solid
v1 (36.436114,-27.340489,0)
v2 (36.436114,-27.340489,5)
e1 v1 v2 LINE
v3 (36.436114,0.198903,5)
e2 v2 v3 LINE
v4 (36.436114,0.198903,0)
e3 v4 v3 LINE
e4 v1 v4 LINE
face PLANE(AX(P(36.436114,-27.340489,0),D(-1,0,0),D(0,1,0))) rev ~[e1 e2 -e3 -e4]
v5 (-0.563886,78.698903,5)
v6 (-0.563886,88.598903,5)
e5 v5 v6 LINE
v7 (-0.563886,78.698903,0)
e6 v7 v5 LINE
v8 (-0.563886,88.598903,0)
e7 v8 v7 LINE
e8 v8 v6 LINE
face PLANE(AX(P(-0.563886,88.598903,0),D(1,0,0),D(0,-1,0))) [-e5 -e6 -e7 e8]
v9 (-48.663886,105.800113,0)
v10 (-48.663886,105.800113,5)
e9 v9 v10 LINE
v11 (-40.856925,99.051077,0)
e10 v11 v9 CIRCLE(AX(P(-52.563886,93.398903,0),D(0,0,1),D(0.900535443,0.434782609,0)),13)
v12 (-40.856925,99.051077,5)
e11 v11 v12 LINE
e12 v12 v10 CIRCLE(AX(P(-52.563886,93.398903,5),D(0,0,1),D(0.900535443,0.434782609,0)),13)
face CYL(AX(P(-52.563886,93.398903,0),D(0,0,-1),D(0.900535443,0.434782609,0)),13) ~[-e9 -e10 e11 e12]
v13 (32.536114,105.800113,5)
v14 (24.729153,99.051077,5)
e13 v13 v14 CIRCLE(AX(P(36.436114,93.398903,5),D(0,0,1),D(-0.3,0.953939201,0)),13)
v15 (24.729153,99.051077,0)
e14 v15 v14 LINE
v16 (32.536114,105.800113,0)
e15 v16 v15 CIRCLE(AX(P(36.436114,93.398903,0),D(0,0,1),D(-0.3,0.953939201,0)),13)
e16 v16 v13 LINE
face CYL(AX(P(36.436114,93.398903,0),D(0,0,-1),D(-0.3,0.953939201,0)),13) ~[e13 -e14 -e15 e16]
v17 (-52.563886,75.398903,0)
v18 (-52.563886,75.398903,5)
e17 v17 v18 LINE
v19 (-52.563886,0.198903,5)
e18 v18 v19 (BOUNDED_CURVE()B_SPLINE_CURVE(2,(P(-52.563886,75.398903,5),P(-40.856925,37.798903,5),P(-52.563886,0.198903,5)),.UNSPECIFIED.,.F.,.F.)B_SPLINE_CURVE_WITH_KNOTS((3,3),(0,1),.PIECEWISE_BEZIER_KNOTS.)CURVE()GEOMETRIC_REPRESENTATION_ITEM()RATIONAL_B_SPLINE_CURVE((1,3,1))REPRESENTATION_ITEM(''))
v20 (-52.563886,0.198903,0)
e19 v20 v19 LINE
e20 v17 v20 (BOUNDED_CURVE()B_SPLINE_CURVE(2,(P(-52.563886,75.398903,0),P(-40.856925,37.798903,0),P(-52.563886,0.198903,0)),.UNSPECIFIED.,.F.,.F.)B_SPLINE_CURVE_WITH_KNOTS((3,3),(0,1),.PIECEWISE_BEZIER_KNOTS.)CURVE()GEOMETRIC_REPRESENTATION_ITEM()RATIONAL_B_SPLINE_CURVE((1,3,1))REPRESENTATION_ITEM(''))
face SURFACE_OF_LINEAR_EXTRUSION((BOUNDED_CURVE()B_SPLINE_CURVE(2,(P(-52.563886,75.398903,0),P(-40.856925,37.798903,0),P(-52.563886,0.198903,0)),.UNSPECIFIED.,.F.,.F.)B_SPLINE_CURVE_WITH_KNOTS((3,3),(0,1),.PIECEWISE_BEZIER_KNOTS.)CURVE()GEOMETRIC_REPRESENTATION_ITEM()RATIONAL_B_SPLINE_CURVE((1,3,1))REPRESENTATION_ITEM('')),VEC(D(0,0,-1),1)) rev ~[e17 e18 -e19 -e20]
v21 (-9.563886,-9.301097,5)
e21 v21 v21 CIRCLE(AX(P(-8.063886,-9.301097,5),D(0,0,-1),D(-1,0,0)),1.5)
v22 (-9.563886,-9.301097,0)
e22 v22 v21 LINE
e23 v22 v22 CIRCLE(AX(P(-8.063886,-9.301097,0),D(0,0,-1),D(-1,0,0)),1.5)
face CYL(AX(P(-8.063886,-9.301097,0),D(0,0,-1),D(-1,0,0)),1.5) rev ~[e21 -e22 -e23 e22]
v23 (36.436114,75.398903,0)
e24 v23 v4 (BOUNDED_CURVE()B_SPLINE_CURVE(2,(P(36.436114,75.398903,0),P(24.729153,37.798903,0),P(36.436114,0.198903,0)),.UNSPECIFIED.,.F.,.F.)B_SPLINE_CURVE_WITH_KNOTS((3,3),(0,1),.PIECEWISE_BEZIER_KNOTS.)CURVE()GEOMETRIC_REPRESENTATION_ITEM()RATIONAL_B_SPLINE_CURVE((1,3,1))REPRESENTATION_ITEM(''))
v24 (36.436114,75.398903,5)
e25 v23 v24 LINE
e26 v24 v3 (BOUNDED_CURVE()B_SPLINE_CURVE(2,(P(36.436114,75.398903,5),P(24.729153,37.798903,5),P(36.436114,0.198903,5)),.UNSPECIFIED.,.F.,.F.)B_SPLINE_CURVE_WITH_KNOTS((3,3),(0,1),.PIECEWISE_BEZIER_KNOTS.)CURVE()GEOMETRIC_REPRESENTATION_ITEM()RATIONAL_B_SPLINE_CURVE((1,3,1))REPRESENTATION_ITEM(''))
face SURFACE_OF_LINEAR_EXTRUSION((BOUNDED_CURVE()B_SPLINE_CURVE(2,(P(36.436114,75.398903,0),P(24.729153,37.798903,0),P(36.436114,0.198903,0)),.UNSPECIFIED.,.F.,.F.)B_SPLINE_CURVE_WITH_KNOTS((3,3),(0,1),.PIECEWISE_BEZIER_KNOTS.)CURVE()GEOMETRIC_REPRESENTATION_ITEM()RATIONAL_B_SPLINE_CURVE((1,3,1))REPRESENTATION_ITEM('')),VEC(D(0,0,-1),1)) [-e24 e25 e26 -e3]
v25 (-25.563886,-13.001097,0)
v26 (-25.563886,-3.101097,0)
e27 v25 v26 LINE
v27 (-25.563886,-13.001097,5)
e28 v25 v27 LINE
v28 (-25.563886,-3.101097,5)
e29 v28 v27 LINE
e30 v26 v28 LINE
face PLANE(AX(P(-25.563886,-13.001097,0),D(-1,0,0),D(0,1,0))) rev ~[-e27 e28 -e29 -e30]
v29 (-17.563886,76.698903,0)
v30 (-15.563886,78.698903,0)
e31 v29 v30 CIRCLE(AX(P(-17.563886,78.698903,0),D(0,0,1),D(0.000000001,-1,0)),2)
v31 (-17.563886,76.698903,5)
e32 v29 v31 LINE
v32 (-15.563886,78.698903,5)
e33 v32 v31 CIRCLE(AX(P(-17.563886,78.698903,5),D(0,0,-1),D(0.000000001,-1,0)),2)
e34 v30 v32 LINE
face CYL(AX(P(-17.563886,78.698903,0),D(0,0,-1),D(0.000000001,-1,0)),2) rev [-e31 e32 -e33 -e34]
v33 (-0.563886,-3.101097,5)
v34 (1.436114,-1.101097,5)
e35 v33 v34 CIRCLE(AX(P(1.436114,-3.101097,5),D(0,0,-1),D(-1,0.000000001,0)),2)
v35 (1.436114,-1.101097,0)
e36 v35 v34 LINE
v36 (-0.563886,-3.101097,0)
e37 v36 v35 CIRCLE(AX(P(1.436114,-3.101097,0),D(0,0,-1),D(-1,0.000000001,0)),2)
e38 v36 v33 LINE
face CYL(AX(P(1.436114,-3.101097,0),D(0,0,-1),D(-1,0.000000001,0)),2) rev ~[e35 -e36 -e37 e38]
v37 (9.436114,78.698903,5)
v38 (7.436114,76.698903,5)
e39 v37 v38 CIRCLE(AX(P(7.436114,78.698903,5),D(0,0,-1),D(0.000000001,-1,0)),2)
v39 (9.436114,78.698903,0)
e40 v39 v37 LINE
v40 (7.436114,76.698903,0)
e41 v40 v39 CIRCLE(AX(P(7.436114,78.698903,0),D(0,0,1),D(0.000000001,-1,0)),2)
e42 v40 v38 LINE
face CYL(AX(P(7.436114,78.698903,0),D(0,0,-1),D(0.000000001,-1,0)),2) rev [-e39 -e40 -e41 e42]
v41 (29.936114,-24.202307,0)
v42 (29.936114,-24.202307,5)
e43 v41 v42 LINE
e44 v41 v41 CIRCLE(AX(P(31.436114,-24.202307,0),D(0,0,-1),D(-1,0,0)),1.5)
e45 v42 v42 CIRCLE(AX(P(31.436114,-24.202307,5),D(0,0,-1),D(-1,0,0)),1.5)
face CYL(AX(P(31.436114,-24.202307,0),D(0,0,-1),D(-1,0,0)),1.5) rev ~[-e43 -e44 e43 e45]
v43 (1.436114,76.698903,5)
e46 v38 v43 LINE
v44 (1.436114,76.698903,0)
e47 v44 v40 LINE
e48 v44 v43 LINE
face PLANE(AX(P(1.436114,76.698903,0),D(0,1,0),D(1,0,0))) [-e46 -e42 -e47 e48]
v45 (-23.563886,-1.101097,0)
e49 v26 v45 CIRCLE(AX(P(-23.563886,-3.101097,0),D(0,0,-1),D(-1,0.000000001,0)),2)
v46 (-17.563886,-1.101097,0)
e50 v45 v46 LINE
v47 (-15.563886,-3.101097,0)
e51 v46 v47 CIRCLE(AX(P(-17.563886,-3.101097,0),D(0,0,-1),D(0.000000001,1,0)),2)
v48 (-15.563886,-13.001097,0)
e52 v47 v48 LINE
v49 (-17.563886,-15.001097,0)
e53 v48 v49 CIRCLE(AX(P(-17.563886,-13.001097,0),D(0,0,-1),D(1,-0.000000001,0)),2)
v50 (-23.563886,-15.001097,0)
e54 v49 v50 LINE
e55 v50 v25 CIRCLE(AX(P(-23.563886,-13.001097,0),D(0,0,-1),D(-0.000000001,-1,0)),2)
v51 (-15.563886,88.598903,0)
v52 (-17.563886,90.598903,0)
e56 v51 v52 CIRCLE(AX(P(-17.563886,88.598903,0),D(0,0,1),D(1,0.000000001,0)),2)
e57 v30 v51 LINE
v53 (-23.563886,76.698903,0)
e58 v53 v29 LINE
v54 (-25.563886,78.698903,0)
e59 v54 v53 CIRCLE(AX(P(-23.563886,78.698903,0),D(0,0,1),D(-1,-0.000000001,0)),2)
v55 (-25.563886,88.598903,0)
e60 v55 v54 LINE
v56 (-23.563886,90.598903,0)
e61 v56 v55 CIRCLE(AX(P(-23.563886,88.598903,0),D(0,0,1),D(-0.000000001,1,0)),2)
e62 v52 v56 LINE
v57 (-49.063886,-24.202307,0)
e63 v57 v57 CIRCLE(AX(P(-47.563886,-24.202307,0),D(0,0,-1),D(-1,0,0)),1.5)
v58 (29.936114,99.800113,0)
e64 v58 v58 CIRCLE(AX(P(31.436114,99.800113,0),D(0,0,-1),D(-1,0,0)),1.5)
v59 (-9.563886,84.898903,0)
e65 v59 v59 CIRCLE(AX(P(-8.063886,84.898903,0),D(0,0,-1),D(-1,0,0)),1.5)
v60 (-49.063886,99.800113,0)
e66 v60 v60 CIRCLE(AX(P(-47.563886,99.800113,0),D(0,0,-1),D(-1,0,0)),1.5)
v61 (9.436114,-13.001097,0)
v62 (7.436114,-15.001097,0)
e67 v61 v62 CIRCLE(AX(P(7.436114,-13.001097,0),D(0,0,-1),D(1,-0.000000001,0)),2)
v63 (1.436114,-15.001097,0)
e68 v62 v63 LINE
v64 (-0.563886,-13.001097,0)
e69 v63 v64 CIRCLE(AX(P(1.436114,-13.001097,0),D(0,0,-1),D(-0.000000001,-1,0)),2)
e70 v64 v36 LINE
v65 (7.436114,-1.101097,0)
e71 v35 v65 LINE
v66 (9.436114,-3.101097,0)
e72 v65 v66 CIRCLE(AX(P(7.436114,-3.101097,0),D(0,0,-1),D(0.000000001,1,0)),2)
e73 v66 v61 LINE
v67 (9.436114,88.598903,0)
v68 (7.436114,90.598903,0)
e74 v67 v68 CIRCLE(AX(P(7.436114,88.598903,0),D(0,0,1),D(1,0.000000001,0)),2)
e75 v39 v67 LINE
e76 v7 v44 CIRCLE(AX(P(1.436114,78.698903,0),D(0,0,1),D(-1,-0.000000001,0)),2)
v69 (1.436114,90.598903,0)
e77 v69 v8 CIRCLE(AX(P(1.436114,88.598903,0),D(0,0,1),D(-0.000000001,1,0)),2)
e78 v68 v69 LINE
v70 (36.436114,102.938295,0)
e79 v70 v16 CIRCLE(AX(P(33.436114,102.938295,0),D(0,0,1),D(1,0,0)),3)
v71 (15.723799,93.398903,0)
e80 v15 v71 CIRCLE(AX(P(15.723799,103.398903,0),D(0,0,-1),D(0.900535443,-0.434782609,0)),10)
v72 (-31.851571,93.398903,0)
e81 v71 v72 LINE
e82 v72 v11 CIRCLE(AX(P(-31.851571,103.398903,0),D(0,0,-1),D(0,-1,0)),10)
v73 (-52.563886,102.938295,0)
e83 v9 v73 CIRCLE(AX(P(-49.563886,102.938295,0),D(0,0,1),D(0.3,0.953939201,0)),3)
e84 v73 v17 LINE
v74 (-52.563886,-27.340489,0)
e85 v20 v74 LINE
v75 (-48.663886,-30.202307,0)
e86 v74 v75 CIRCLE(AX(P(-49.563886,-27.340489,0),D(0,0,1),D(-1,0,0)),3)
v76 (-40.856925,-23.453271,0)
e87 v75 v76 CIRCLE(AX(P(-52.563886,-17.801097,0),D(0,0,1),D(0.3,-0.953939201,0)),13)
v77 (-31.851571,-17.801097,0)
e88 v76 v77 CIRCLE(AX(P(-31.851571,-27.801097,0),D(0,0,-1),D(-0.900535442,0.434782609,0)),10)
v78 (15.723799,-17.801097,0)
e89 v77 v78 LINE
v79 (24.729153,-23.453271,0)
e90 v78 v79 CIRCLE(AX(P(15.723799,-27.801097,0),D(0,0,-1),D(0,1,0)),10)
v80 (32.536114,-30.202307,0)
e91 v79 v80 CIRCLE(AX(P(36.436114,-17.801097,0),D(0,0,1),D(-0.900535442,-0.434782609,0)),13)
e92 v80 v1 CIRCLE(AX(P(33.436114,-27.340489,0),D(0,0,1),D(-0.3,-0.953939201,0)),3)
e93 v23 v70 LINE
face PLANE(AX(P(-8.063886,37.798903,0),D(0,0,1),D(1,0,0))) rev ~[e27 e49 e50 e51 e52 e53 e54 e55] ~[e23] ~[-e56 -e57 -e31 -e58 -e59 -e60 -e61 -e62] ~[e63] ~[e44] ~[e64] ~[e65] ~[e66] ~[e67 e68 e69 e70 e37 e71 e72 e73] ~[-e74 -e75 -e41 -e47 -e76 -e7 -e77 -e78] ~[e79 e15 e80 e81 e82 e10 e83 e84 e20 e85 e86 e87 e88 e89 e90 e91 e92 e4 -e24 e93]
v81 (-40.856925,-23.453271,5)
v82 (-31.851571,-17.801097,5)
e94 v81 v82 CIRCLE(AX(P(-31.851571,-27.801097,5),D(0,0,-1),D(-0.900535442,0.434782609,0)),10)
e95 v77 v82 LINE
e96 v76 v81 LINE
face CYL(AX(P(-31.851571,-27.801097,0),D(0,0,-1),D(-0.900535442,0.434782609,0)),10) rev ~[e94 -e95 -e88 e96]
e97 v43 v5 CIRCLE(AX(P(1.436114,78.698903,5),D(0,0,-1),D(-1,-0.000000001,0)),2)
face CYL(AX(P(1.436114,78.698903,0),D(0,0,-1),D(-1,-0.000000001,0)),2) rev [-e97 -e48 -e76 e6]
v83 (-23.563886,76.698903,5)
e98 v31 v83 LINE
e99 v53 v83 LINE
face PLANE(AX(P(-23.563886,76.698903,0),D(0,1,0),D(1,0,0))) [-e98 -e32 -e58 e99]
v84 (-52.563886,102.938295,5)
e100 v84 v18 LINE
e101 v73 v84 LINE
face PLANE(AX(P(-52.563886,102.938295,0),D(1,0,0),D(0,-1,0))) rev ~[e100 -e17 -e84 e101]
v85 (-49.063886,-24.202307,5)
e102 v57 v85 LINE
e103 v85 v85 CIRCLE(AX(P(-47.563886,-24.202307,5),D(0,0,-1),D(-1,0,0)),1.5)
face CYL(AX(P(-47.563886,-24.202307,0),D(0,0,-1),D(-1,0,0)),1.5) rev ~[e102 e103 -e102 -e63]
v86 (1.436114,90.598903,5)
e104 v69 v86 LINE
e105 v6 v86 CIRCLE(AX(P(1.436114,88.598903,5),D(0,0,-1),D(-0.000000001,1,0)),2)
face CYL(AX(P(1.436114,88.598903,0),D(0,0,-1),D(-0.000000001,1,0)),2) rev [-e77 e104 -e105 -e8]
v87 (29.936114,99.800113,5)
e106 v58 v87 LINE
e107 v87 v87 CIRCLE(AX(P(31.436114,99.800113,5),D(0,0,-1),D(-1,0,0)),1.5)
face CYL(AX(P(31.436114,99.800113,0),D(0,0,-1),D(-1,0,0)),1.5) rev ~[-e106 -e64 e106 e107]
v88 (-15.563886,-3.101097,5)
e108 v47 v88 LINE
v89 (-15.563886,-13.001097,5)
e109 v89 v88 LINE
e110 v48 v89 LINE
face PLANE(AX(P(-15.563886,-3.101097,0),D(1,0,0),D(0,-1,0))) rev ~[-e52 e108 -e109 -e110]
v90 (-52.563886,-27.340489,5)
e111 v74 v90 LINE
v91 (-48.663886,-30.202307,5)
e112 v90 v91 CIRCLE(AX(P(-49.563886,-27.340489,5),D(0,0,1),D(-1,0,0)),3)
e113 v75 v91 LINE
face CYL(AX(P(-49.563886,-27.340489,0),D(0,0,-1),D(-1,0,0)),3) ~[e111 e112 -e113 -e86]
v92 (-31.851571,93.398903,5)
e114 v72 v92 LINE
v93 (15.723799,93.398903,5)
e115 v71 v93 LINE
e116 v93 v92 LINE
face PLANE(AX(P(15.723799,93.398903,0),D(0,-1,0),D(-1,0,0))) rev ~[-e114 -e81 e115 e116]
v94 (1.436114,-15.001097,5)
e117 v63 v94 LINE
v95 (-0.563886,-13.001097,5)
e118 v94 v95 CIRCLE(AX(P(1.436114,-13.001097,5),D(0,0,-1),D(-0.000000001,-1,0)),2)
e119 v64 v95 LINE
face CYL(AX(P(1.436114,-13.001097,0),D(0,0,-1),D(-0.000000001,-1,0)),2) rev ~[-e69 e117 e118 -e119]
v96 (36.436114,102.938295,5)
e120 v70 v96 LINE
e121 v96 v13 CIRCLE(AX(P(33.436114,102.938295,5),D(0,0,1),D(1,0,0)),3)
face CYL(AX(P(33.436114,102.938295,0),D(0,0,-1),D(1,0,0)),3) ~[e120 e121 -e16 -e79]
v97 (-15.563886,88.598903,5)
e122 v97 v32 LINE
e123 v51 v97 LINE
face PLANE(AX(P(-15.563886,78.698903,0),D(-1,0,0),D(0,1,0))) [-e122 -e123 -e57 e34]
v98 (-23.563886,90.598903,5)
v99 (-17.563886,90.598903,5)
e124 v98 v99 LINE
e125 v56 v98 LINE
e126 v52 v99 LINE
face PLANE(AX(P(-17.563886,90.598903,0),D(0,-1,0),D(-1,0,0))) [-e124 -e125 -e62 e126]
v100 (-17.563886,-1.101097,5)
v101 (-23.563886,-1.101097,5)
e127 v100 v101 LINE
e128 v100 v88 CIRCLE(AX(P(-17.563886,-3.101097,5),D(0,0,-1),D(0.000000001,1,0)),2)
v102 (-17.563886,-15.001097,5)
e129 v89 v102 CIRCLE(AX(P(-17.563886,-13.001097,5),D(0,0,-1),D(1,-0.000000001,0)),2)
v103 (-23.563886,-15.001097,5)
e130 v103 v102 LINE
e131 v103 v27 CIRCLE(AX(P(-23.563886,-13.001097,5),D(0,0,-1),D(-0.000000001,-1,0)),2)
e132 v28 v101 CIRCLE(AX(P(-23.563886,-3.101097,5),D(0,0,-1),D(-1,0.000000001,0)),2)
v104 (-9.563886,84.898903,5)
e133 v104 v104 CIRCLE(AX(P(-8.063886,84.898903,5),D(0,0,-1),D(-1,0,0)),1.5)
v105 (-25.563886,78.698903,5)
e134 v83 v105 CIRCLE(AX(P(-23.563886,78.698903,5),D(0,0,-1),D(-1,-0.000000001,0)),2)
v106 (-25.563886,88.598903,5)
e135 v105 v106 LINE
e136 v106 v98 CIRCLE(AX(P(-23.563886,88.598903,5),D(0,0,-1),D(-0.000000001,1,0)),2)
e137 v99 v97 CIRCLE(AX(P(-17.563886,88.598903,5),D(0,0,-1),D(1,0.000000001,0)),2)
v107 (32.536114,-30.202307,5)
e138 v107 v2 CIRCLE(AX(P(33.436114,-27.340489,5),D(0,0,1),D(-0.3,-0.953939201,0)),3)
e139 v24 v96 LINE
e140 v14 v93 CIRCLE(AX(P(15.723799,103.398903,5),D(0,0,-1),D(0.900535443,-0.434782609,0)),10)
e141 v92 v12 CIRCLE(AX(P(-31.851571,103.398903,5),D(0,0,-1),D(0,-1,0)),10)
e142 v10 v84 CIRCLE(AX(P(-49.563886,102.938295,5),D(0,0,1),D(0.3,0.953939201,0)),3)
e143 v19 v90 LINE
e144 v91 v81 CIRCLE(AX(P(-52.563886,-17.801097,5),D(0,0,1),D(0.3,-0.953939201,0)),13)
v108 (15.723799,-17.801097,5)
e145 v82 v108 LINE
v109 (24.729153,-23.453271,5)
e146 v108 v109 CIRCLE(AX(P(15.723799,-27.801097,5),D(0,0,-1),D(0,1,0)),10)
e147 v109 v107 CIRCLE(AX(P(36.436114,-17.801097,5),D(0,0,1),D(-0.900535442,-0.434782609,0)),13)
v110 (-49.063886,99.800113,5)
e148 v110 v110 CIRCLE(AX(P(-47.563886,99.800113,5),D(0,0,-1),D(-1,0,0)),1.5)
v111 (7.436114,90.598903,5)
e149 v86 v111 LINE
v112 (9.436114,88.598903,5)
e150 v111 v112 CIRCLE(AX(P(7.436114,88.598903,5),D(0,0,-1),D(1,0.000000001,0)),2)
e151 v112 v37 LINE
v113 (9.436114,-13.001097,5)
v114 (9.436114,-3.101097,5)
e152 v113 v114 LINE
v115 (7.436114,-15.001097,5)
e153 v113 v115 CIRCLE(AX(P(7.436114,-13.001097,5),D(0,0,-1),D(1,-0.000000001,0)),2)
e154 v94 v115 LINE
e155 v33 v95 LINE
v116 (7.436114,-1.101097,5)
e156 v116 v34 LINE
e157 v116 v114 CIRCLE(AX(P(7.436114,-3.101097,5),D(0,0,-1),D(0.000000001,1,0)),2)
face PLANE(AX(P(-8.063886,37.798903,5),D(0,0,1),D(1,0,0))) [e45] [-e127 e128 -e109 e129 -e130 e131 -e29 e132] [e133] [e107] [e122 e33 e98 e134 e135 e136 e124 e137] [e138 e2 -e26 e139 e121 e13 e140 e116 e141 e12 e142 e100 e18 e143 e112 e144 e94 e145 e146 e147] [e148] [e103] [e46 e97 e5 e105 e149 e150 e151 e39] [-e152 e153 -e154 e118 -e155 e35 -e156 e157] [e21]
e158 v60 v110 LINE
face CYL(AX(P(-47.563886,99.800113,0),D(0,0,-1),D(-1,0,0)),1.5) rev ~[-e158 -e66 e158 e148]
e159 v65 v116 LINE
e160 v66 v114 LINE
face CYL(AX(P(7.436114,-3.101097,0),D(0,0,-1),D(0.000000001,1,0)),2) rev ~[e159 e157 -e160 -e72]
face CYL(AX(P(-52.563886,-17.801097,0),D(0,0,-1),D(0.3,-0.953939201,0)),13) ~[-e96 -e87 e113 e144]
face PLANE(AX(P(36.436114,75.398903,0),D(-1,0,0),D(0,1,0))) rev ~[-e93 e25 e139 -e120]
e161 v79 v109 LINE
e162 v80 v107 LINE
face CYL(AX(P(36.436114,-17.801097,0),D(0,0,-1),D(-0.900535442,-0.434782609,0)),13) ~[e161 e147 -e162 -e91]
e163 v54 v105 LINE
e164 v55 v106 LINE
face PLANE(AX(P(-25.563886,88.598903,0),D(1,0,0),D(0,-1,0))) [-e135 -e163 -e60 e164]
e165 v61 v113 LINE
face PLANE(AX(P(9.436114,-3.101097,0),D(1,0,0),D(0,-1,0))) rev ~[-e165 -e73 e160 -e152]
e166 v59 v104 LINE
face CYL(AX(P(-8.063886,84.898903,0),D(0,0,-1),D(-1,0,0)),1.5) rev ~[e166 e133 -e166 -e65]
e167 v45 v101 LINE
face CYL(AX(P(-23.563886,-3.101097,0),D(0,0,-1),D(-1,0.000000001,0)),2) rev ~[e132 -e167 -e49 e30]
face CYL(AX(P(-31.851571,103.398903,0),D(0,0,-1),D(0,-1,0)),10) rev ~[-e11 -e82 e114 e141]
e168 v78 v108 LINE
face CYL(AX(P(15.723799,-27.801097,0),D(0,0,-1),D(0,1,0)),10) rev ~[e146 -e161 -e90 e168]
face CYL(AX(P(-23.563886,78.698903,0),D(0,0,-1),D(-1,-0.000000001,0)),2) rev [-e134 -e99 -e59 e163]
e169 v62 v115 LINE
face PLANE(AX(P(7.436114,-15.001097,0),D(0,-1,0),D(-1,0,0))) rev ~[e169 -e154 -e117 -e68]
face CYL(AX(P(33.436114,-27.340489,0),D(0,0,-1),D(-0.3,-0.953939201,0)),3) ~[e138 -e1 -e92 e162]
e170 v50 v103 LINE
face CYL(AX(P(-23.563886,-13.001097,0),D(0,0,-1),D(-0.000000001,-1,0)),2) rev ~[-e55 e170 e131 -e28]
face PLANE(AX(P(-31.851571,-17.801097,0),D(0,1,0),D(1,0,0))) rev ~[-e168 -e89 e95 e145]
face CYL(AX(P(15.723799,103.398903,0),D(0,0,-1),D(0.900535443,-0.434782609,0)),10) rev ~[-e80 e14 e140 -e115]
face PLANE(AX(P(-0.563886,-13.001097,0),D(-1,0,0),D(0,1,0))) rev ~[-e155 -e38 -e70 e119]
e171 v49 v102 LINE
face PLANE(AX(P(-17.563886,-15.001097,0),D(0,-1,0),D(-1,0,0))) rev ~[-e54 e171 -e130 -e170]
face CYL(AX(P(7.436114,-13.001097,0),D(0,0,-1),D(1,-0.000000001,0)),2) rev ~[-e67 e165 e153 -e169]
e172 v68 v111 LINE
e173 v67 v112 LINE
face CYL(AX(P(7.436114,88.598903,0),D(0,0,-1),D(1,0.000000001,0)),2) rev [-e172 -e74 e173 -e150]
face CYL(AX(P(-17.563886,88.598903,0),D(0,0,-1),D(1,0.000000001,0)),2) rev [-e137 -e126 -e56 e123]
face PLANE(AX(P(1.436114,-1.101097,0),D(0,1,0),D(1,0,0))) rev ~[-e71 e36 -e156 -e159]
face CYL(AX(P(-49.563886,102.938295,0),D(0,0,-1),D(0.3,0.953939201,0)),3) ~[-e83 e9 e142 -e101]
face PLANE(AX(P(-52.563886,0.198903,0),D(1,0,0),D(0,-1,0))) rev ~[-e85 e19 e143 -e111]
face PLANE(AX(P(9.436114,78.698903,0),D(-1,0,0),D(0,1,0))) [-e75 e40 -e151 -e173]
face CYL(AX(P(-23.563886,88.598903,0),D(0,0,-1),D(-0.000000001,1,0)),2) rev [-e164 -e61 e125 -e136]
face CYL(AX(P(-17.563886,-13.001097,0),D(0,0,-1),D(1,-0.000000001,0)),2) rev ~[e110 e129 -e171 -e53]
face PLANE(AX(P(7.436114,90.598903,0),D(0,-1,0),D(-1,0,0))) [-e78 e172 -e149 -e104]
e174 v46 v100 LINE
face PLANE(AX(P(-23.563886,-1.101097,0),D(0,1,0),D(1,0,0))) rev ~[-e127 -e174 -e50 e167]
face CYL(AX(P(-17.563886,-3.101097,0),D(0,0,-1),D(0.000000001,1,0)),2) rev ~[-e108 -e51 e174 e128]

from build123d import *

# Parameters (mm, degrees)
RESSALTO_EXTRUS_O3_DEPTH = 5
ESBO_O4_R                = 1.5
CORTE_EXTRUS_O3_DEPTH    = 10


with BuildPart() as part:
    # Esboço1 → Ressalto-extrusão3 (new body)
    with BuildSketch(Plane.XY):
        with BuildLine():
            Line((-31.851570772, -17.801096987), (-27.063885949, -17.801096987))
            Line((-27.063885949, -17.801096987), (10.936114051, -17.801096987))
            Line((10.936114051, -17.801096987), (15.723798874, -17.801096987))
            ThreePointArc((15.723798874, -17.801096987), (21.039894205, -19.331201448), (24.729153299, -23.4532709))
            ThreePointArc((24.729153299, -23.4532709), (27.934250919, -27.635644423), (32.536114051, -30.202306605))
            ThreePointArc((32.536114051, -30.202306605), (35.210937986, -29.759166326), (36.436114051, -27.340489001))
            Line((36.436114051, -27.340489001), (36.436114051, -17.801096987))
            Line((36.436114051, -17.801096987), (36.436114051, 0.198903013))
            add(Edge.make_bspline(
                [(36.436114051, 75.398903013), (24.729153299, 37.798903013), (36.436114051, 0.198903013)],
                knots=[0, 0, 0, 1, 1, 1], degree=2, weights=[1, 3, 1]))
            Line((36.436114051, 75.398903013), (36.436114051, 93.398903013))
            Line((36.436114051, 93.398903013), (36.436114051, 102.938295027))
            ThreePointArc((36.436114051, 102.938295027), (35.210937986, 105.356972352), (32.536114051, 105.800112631))
            ThreePointArc((32.536114051, 105.800112631), (27.934250919, 103.23345045), (24.729153299, 99.051076926))
            ThreePointArc((24.729153299, 99.051076926), (21.039894205, 94.929007474), (15.723798874, 93.398903013))
            Line((15.723798874, 93.398903013), (10.936114051, 93.398903013))
            Line((10.936114051, 93.398903013), (-27.063885949, 93.398903013))
            Line((-27.063885949, 93.398903013), (-31.851570772, 93.398903013))
            ThreePointArc((-31.851570772, 93.398903013), (-37.167666102, 94.929007474), (-40.856925197, 99.051076926))
            ThreePointArc((-40.856925197, 99.051076926), (-44.062022817, 103.23345045), (-48.663885949, 105.800112631))
            ThreePointArc((-48.663885949, 105.800112631), (-51.338709884, 105.356972352), (-52.563885949, 102.938295027))
            Line((-52.563885949, 102.938295027), (-52.563885949, 93.398903013))
            Line((-52.563885949, 93.398903013), (-52.563885949, 75.398903013))
            add(Edge.make_bspline(
                [(-52.563885949, 75.398903013), (-40.856925197, 37.798903013), (-52.563885949, 0.198903013)],
                knots=[0, 0, 0, 1, 1, 1], degree=2, weights=[1, 3, 1]))
            Line((-52.563885949, 0.198903013), (-52.563885949, -17.801096987))
            Line((-52.563885949, -17.801096987), (-52.563885949, -27.340489001))
            ThreePointArc((-52.563885949, -27.340489001), (-51.338709884, -29.759166326), (-48.663885949, -30.202306605))
            ThreePointArc((-48.663885949, -30.202306605), (-44.062022817, -27.635644423), (-40.856925197, -23.4532709))
            ThreePointArc((-40.856925197, -23.4532709), (-37.167666102, -19.331201448), (-31.851570772, -17.801096987))
        make_face()
    extrude(amount=RESSALTO_EXTRUS_O3_DEPTH)

    # Esboço4 → Corte-extrusão3 (cut)
    with BuildSketch(Plane(origin=(0, 0, 0), x_dir=(-1, 0, 0), z_dir=(0, 0, -1))):
        with Locations((-31.436114051, 99.800112631)):
            Circle(ESBO_O4_R)
        with Locations((47.563885949, 99.800112631)):
            Circle(ESBO_O4_R)
        with Locations((8.063885949, 84.898903013)):
            Circle(ESBO_O4_R)
        with Locations((8.063885949, -9.301096987)):
            Circle(ESBO_O4_R)
        with Locations((47.563885949, -24.202306605)):
            Circle(ESBO_O4_R)
        with Locations((-31.436114051, -24.202306605)):
            Circle(ESBO_O4_R)
        with BuildLine():
            Line((-7.436114051, 90.598903013), (-1.436114051, 90.598903013))
            ThreePointArc((-1.436114051, 90.598903013), (-0.021900489, 90.013116575), (0.563885949, 88.598903013))
            Line((0.563885949, 88.598903013), (0.563885949, 78.698903013))
            ThreePointArc((0.563885949, 78.698903013), (-0.021900489, 77.284689451), (-1.436114051, 76.698903013))
            Line((-1.436114051, 76.698903013), (-7.436114051, 76.698903013))
            ThreePointArc((-7.436114051, 76.698903013), (-8.850327613, 77.284689451), (-9.436114051, 78.698903013))
            Line((-9.436114051, 78.698903013), (-9.436114051, 88.598903013))
            ThreePointArc((-9.436114051, 88.598903013), (-8.850327613, 90.013116575), (-7.436114051, 90.598903013))
        make_face()
        with BuildLine():
            Line((17.563885949, 90.598903013), (23.563885949, 90.598903013))
            ThreePointArc((23.563885949, 90.598903013), (24.978099511, 90.013116575), (25.563885949, 88.598903013))
            Line((25.563885949, 88.598903013), (25.563885949, 78.698903013))
            ThreePointArc((25.563885949, 78.698903013), (24.978099511, 77.284689451), (23.563885949, 76.698903013))
            Line((23.563885949, 76.698903013), (17.563885949, 76.698903013))
            ThreePointArc((17.563885949, 76.698903013), (16.149672387, 77.284689451), (15.563885949, 78.698903013))
            Line((15.563885949, 78.698903013), (15.563885949, 88.598903013))
            ThreePointArc((15.563885949, 88.598903013), (16.149672387, 90.013116575), (17.563885949, 90.598903013))
        make_face()
        with BuildLine():
            Line((25.563885949, -13.001096987), (25.563885949, -3.101096987))
            ThreePointArc((25.563885949, -3.101096987), (24.978099511, -1.686883425), (23.563885949, -1.101096987))
            Line((23.563885949, -1.101096987), (17.563885949, -1.101096987))
            ThreePointArc((17.563885949, -1.101096987), (16.149672387, -1.686883425), (15.563885949, -3.101096987))
            Line((15.563885949, -3.101096987), (15.563885949, -13.001096987))
            ThreePointArc((15.563885949, -13.001096987), (16.149672387, -14.415310549), (17.563885949, -15.001096987))
            Line((17.563885949, -15.001096987), (23.563885949, -15.001096987))
            ThreePointArc((23.563885949, -15.001096987), (24.978099511, -14.415310549), (25.563885949, -13.001096987))
        make_face()
        with BuildLine():
            Line((0.563885949, -13.001096987), (0.563885949, -3.101096987))
            ThreePointArc((0.563885949, -3.101096987), (-0.021900489, -1.686883425), (-1.436114051, -1.101096987))
            Line((-1.436114051, -1.101096987), (-7.436114051, -1.101096987))
            ThreePointArc((-7.436114051, -1.101096987), (-8.850327613, -1.686883425), (-9.436114051, -3.101096987))
            Line((-9.436114051, -3.101096987), (-9.436114051, -13.001096987))
            ThreePointArc((-9.436114051, -13.001096987), (-8.850327613, -14.415310549), (-7.436114051, -15.001096987))
            Line((-7.436114051, -15.001096987), (-1.436114051, -15.001096987))
            ThreePointArc((-1.436114051, -15.001096987), (-0.021900489, -14.415310549), (0.563885949, -13.001096987))
        make_face()
    extrude(amount=-CORTE_EXTRUS_O3_DEPTH, mode=Mode.SUBTRACT)


solid = part.part
